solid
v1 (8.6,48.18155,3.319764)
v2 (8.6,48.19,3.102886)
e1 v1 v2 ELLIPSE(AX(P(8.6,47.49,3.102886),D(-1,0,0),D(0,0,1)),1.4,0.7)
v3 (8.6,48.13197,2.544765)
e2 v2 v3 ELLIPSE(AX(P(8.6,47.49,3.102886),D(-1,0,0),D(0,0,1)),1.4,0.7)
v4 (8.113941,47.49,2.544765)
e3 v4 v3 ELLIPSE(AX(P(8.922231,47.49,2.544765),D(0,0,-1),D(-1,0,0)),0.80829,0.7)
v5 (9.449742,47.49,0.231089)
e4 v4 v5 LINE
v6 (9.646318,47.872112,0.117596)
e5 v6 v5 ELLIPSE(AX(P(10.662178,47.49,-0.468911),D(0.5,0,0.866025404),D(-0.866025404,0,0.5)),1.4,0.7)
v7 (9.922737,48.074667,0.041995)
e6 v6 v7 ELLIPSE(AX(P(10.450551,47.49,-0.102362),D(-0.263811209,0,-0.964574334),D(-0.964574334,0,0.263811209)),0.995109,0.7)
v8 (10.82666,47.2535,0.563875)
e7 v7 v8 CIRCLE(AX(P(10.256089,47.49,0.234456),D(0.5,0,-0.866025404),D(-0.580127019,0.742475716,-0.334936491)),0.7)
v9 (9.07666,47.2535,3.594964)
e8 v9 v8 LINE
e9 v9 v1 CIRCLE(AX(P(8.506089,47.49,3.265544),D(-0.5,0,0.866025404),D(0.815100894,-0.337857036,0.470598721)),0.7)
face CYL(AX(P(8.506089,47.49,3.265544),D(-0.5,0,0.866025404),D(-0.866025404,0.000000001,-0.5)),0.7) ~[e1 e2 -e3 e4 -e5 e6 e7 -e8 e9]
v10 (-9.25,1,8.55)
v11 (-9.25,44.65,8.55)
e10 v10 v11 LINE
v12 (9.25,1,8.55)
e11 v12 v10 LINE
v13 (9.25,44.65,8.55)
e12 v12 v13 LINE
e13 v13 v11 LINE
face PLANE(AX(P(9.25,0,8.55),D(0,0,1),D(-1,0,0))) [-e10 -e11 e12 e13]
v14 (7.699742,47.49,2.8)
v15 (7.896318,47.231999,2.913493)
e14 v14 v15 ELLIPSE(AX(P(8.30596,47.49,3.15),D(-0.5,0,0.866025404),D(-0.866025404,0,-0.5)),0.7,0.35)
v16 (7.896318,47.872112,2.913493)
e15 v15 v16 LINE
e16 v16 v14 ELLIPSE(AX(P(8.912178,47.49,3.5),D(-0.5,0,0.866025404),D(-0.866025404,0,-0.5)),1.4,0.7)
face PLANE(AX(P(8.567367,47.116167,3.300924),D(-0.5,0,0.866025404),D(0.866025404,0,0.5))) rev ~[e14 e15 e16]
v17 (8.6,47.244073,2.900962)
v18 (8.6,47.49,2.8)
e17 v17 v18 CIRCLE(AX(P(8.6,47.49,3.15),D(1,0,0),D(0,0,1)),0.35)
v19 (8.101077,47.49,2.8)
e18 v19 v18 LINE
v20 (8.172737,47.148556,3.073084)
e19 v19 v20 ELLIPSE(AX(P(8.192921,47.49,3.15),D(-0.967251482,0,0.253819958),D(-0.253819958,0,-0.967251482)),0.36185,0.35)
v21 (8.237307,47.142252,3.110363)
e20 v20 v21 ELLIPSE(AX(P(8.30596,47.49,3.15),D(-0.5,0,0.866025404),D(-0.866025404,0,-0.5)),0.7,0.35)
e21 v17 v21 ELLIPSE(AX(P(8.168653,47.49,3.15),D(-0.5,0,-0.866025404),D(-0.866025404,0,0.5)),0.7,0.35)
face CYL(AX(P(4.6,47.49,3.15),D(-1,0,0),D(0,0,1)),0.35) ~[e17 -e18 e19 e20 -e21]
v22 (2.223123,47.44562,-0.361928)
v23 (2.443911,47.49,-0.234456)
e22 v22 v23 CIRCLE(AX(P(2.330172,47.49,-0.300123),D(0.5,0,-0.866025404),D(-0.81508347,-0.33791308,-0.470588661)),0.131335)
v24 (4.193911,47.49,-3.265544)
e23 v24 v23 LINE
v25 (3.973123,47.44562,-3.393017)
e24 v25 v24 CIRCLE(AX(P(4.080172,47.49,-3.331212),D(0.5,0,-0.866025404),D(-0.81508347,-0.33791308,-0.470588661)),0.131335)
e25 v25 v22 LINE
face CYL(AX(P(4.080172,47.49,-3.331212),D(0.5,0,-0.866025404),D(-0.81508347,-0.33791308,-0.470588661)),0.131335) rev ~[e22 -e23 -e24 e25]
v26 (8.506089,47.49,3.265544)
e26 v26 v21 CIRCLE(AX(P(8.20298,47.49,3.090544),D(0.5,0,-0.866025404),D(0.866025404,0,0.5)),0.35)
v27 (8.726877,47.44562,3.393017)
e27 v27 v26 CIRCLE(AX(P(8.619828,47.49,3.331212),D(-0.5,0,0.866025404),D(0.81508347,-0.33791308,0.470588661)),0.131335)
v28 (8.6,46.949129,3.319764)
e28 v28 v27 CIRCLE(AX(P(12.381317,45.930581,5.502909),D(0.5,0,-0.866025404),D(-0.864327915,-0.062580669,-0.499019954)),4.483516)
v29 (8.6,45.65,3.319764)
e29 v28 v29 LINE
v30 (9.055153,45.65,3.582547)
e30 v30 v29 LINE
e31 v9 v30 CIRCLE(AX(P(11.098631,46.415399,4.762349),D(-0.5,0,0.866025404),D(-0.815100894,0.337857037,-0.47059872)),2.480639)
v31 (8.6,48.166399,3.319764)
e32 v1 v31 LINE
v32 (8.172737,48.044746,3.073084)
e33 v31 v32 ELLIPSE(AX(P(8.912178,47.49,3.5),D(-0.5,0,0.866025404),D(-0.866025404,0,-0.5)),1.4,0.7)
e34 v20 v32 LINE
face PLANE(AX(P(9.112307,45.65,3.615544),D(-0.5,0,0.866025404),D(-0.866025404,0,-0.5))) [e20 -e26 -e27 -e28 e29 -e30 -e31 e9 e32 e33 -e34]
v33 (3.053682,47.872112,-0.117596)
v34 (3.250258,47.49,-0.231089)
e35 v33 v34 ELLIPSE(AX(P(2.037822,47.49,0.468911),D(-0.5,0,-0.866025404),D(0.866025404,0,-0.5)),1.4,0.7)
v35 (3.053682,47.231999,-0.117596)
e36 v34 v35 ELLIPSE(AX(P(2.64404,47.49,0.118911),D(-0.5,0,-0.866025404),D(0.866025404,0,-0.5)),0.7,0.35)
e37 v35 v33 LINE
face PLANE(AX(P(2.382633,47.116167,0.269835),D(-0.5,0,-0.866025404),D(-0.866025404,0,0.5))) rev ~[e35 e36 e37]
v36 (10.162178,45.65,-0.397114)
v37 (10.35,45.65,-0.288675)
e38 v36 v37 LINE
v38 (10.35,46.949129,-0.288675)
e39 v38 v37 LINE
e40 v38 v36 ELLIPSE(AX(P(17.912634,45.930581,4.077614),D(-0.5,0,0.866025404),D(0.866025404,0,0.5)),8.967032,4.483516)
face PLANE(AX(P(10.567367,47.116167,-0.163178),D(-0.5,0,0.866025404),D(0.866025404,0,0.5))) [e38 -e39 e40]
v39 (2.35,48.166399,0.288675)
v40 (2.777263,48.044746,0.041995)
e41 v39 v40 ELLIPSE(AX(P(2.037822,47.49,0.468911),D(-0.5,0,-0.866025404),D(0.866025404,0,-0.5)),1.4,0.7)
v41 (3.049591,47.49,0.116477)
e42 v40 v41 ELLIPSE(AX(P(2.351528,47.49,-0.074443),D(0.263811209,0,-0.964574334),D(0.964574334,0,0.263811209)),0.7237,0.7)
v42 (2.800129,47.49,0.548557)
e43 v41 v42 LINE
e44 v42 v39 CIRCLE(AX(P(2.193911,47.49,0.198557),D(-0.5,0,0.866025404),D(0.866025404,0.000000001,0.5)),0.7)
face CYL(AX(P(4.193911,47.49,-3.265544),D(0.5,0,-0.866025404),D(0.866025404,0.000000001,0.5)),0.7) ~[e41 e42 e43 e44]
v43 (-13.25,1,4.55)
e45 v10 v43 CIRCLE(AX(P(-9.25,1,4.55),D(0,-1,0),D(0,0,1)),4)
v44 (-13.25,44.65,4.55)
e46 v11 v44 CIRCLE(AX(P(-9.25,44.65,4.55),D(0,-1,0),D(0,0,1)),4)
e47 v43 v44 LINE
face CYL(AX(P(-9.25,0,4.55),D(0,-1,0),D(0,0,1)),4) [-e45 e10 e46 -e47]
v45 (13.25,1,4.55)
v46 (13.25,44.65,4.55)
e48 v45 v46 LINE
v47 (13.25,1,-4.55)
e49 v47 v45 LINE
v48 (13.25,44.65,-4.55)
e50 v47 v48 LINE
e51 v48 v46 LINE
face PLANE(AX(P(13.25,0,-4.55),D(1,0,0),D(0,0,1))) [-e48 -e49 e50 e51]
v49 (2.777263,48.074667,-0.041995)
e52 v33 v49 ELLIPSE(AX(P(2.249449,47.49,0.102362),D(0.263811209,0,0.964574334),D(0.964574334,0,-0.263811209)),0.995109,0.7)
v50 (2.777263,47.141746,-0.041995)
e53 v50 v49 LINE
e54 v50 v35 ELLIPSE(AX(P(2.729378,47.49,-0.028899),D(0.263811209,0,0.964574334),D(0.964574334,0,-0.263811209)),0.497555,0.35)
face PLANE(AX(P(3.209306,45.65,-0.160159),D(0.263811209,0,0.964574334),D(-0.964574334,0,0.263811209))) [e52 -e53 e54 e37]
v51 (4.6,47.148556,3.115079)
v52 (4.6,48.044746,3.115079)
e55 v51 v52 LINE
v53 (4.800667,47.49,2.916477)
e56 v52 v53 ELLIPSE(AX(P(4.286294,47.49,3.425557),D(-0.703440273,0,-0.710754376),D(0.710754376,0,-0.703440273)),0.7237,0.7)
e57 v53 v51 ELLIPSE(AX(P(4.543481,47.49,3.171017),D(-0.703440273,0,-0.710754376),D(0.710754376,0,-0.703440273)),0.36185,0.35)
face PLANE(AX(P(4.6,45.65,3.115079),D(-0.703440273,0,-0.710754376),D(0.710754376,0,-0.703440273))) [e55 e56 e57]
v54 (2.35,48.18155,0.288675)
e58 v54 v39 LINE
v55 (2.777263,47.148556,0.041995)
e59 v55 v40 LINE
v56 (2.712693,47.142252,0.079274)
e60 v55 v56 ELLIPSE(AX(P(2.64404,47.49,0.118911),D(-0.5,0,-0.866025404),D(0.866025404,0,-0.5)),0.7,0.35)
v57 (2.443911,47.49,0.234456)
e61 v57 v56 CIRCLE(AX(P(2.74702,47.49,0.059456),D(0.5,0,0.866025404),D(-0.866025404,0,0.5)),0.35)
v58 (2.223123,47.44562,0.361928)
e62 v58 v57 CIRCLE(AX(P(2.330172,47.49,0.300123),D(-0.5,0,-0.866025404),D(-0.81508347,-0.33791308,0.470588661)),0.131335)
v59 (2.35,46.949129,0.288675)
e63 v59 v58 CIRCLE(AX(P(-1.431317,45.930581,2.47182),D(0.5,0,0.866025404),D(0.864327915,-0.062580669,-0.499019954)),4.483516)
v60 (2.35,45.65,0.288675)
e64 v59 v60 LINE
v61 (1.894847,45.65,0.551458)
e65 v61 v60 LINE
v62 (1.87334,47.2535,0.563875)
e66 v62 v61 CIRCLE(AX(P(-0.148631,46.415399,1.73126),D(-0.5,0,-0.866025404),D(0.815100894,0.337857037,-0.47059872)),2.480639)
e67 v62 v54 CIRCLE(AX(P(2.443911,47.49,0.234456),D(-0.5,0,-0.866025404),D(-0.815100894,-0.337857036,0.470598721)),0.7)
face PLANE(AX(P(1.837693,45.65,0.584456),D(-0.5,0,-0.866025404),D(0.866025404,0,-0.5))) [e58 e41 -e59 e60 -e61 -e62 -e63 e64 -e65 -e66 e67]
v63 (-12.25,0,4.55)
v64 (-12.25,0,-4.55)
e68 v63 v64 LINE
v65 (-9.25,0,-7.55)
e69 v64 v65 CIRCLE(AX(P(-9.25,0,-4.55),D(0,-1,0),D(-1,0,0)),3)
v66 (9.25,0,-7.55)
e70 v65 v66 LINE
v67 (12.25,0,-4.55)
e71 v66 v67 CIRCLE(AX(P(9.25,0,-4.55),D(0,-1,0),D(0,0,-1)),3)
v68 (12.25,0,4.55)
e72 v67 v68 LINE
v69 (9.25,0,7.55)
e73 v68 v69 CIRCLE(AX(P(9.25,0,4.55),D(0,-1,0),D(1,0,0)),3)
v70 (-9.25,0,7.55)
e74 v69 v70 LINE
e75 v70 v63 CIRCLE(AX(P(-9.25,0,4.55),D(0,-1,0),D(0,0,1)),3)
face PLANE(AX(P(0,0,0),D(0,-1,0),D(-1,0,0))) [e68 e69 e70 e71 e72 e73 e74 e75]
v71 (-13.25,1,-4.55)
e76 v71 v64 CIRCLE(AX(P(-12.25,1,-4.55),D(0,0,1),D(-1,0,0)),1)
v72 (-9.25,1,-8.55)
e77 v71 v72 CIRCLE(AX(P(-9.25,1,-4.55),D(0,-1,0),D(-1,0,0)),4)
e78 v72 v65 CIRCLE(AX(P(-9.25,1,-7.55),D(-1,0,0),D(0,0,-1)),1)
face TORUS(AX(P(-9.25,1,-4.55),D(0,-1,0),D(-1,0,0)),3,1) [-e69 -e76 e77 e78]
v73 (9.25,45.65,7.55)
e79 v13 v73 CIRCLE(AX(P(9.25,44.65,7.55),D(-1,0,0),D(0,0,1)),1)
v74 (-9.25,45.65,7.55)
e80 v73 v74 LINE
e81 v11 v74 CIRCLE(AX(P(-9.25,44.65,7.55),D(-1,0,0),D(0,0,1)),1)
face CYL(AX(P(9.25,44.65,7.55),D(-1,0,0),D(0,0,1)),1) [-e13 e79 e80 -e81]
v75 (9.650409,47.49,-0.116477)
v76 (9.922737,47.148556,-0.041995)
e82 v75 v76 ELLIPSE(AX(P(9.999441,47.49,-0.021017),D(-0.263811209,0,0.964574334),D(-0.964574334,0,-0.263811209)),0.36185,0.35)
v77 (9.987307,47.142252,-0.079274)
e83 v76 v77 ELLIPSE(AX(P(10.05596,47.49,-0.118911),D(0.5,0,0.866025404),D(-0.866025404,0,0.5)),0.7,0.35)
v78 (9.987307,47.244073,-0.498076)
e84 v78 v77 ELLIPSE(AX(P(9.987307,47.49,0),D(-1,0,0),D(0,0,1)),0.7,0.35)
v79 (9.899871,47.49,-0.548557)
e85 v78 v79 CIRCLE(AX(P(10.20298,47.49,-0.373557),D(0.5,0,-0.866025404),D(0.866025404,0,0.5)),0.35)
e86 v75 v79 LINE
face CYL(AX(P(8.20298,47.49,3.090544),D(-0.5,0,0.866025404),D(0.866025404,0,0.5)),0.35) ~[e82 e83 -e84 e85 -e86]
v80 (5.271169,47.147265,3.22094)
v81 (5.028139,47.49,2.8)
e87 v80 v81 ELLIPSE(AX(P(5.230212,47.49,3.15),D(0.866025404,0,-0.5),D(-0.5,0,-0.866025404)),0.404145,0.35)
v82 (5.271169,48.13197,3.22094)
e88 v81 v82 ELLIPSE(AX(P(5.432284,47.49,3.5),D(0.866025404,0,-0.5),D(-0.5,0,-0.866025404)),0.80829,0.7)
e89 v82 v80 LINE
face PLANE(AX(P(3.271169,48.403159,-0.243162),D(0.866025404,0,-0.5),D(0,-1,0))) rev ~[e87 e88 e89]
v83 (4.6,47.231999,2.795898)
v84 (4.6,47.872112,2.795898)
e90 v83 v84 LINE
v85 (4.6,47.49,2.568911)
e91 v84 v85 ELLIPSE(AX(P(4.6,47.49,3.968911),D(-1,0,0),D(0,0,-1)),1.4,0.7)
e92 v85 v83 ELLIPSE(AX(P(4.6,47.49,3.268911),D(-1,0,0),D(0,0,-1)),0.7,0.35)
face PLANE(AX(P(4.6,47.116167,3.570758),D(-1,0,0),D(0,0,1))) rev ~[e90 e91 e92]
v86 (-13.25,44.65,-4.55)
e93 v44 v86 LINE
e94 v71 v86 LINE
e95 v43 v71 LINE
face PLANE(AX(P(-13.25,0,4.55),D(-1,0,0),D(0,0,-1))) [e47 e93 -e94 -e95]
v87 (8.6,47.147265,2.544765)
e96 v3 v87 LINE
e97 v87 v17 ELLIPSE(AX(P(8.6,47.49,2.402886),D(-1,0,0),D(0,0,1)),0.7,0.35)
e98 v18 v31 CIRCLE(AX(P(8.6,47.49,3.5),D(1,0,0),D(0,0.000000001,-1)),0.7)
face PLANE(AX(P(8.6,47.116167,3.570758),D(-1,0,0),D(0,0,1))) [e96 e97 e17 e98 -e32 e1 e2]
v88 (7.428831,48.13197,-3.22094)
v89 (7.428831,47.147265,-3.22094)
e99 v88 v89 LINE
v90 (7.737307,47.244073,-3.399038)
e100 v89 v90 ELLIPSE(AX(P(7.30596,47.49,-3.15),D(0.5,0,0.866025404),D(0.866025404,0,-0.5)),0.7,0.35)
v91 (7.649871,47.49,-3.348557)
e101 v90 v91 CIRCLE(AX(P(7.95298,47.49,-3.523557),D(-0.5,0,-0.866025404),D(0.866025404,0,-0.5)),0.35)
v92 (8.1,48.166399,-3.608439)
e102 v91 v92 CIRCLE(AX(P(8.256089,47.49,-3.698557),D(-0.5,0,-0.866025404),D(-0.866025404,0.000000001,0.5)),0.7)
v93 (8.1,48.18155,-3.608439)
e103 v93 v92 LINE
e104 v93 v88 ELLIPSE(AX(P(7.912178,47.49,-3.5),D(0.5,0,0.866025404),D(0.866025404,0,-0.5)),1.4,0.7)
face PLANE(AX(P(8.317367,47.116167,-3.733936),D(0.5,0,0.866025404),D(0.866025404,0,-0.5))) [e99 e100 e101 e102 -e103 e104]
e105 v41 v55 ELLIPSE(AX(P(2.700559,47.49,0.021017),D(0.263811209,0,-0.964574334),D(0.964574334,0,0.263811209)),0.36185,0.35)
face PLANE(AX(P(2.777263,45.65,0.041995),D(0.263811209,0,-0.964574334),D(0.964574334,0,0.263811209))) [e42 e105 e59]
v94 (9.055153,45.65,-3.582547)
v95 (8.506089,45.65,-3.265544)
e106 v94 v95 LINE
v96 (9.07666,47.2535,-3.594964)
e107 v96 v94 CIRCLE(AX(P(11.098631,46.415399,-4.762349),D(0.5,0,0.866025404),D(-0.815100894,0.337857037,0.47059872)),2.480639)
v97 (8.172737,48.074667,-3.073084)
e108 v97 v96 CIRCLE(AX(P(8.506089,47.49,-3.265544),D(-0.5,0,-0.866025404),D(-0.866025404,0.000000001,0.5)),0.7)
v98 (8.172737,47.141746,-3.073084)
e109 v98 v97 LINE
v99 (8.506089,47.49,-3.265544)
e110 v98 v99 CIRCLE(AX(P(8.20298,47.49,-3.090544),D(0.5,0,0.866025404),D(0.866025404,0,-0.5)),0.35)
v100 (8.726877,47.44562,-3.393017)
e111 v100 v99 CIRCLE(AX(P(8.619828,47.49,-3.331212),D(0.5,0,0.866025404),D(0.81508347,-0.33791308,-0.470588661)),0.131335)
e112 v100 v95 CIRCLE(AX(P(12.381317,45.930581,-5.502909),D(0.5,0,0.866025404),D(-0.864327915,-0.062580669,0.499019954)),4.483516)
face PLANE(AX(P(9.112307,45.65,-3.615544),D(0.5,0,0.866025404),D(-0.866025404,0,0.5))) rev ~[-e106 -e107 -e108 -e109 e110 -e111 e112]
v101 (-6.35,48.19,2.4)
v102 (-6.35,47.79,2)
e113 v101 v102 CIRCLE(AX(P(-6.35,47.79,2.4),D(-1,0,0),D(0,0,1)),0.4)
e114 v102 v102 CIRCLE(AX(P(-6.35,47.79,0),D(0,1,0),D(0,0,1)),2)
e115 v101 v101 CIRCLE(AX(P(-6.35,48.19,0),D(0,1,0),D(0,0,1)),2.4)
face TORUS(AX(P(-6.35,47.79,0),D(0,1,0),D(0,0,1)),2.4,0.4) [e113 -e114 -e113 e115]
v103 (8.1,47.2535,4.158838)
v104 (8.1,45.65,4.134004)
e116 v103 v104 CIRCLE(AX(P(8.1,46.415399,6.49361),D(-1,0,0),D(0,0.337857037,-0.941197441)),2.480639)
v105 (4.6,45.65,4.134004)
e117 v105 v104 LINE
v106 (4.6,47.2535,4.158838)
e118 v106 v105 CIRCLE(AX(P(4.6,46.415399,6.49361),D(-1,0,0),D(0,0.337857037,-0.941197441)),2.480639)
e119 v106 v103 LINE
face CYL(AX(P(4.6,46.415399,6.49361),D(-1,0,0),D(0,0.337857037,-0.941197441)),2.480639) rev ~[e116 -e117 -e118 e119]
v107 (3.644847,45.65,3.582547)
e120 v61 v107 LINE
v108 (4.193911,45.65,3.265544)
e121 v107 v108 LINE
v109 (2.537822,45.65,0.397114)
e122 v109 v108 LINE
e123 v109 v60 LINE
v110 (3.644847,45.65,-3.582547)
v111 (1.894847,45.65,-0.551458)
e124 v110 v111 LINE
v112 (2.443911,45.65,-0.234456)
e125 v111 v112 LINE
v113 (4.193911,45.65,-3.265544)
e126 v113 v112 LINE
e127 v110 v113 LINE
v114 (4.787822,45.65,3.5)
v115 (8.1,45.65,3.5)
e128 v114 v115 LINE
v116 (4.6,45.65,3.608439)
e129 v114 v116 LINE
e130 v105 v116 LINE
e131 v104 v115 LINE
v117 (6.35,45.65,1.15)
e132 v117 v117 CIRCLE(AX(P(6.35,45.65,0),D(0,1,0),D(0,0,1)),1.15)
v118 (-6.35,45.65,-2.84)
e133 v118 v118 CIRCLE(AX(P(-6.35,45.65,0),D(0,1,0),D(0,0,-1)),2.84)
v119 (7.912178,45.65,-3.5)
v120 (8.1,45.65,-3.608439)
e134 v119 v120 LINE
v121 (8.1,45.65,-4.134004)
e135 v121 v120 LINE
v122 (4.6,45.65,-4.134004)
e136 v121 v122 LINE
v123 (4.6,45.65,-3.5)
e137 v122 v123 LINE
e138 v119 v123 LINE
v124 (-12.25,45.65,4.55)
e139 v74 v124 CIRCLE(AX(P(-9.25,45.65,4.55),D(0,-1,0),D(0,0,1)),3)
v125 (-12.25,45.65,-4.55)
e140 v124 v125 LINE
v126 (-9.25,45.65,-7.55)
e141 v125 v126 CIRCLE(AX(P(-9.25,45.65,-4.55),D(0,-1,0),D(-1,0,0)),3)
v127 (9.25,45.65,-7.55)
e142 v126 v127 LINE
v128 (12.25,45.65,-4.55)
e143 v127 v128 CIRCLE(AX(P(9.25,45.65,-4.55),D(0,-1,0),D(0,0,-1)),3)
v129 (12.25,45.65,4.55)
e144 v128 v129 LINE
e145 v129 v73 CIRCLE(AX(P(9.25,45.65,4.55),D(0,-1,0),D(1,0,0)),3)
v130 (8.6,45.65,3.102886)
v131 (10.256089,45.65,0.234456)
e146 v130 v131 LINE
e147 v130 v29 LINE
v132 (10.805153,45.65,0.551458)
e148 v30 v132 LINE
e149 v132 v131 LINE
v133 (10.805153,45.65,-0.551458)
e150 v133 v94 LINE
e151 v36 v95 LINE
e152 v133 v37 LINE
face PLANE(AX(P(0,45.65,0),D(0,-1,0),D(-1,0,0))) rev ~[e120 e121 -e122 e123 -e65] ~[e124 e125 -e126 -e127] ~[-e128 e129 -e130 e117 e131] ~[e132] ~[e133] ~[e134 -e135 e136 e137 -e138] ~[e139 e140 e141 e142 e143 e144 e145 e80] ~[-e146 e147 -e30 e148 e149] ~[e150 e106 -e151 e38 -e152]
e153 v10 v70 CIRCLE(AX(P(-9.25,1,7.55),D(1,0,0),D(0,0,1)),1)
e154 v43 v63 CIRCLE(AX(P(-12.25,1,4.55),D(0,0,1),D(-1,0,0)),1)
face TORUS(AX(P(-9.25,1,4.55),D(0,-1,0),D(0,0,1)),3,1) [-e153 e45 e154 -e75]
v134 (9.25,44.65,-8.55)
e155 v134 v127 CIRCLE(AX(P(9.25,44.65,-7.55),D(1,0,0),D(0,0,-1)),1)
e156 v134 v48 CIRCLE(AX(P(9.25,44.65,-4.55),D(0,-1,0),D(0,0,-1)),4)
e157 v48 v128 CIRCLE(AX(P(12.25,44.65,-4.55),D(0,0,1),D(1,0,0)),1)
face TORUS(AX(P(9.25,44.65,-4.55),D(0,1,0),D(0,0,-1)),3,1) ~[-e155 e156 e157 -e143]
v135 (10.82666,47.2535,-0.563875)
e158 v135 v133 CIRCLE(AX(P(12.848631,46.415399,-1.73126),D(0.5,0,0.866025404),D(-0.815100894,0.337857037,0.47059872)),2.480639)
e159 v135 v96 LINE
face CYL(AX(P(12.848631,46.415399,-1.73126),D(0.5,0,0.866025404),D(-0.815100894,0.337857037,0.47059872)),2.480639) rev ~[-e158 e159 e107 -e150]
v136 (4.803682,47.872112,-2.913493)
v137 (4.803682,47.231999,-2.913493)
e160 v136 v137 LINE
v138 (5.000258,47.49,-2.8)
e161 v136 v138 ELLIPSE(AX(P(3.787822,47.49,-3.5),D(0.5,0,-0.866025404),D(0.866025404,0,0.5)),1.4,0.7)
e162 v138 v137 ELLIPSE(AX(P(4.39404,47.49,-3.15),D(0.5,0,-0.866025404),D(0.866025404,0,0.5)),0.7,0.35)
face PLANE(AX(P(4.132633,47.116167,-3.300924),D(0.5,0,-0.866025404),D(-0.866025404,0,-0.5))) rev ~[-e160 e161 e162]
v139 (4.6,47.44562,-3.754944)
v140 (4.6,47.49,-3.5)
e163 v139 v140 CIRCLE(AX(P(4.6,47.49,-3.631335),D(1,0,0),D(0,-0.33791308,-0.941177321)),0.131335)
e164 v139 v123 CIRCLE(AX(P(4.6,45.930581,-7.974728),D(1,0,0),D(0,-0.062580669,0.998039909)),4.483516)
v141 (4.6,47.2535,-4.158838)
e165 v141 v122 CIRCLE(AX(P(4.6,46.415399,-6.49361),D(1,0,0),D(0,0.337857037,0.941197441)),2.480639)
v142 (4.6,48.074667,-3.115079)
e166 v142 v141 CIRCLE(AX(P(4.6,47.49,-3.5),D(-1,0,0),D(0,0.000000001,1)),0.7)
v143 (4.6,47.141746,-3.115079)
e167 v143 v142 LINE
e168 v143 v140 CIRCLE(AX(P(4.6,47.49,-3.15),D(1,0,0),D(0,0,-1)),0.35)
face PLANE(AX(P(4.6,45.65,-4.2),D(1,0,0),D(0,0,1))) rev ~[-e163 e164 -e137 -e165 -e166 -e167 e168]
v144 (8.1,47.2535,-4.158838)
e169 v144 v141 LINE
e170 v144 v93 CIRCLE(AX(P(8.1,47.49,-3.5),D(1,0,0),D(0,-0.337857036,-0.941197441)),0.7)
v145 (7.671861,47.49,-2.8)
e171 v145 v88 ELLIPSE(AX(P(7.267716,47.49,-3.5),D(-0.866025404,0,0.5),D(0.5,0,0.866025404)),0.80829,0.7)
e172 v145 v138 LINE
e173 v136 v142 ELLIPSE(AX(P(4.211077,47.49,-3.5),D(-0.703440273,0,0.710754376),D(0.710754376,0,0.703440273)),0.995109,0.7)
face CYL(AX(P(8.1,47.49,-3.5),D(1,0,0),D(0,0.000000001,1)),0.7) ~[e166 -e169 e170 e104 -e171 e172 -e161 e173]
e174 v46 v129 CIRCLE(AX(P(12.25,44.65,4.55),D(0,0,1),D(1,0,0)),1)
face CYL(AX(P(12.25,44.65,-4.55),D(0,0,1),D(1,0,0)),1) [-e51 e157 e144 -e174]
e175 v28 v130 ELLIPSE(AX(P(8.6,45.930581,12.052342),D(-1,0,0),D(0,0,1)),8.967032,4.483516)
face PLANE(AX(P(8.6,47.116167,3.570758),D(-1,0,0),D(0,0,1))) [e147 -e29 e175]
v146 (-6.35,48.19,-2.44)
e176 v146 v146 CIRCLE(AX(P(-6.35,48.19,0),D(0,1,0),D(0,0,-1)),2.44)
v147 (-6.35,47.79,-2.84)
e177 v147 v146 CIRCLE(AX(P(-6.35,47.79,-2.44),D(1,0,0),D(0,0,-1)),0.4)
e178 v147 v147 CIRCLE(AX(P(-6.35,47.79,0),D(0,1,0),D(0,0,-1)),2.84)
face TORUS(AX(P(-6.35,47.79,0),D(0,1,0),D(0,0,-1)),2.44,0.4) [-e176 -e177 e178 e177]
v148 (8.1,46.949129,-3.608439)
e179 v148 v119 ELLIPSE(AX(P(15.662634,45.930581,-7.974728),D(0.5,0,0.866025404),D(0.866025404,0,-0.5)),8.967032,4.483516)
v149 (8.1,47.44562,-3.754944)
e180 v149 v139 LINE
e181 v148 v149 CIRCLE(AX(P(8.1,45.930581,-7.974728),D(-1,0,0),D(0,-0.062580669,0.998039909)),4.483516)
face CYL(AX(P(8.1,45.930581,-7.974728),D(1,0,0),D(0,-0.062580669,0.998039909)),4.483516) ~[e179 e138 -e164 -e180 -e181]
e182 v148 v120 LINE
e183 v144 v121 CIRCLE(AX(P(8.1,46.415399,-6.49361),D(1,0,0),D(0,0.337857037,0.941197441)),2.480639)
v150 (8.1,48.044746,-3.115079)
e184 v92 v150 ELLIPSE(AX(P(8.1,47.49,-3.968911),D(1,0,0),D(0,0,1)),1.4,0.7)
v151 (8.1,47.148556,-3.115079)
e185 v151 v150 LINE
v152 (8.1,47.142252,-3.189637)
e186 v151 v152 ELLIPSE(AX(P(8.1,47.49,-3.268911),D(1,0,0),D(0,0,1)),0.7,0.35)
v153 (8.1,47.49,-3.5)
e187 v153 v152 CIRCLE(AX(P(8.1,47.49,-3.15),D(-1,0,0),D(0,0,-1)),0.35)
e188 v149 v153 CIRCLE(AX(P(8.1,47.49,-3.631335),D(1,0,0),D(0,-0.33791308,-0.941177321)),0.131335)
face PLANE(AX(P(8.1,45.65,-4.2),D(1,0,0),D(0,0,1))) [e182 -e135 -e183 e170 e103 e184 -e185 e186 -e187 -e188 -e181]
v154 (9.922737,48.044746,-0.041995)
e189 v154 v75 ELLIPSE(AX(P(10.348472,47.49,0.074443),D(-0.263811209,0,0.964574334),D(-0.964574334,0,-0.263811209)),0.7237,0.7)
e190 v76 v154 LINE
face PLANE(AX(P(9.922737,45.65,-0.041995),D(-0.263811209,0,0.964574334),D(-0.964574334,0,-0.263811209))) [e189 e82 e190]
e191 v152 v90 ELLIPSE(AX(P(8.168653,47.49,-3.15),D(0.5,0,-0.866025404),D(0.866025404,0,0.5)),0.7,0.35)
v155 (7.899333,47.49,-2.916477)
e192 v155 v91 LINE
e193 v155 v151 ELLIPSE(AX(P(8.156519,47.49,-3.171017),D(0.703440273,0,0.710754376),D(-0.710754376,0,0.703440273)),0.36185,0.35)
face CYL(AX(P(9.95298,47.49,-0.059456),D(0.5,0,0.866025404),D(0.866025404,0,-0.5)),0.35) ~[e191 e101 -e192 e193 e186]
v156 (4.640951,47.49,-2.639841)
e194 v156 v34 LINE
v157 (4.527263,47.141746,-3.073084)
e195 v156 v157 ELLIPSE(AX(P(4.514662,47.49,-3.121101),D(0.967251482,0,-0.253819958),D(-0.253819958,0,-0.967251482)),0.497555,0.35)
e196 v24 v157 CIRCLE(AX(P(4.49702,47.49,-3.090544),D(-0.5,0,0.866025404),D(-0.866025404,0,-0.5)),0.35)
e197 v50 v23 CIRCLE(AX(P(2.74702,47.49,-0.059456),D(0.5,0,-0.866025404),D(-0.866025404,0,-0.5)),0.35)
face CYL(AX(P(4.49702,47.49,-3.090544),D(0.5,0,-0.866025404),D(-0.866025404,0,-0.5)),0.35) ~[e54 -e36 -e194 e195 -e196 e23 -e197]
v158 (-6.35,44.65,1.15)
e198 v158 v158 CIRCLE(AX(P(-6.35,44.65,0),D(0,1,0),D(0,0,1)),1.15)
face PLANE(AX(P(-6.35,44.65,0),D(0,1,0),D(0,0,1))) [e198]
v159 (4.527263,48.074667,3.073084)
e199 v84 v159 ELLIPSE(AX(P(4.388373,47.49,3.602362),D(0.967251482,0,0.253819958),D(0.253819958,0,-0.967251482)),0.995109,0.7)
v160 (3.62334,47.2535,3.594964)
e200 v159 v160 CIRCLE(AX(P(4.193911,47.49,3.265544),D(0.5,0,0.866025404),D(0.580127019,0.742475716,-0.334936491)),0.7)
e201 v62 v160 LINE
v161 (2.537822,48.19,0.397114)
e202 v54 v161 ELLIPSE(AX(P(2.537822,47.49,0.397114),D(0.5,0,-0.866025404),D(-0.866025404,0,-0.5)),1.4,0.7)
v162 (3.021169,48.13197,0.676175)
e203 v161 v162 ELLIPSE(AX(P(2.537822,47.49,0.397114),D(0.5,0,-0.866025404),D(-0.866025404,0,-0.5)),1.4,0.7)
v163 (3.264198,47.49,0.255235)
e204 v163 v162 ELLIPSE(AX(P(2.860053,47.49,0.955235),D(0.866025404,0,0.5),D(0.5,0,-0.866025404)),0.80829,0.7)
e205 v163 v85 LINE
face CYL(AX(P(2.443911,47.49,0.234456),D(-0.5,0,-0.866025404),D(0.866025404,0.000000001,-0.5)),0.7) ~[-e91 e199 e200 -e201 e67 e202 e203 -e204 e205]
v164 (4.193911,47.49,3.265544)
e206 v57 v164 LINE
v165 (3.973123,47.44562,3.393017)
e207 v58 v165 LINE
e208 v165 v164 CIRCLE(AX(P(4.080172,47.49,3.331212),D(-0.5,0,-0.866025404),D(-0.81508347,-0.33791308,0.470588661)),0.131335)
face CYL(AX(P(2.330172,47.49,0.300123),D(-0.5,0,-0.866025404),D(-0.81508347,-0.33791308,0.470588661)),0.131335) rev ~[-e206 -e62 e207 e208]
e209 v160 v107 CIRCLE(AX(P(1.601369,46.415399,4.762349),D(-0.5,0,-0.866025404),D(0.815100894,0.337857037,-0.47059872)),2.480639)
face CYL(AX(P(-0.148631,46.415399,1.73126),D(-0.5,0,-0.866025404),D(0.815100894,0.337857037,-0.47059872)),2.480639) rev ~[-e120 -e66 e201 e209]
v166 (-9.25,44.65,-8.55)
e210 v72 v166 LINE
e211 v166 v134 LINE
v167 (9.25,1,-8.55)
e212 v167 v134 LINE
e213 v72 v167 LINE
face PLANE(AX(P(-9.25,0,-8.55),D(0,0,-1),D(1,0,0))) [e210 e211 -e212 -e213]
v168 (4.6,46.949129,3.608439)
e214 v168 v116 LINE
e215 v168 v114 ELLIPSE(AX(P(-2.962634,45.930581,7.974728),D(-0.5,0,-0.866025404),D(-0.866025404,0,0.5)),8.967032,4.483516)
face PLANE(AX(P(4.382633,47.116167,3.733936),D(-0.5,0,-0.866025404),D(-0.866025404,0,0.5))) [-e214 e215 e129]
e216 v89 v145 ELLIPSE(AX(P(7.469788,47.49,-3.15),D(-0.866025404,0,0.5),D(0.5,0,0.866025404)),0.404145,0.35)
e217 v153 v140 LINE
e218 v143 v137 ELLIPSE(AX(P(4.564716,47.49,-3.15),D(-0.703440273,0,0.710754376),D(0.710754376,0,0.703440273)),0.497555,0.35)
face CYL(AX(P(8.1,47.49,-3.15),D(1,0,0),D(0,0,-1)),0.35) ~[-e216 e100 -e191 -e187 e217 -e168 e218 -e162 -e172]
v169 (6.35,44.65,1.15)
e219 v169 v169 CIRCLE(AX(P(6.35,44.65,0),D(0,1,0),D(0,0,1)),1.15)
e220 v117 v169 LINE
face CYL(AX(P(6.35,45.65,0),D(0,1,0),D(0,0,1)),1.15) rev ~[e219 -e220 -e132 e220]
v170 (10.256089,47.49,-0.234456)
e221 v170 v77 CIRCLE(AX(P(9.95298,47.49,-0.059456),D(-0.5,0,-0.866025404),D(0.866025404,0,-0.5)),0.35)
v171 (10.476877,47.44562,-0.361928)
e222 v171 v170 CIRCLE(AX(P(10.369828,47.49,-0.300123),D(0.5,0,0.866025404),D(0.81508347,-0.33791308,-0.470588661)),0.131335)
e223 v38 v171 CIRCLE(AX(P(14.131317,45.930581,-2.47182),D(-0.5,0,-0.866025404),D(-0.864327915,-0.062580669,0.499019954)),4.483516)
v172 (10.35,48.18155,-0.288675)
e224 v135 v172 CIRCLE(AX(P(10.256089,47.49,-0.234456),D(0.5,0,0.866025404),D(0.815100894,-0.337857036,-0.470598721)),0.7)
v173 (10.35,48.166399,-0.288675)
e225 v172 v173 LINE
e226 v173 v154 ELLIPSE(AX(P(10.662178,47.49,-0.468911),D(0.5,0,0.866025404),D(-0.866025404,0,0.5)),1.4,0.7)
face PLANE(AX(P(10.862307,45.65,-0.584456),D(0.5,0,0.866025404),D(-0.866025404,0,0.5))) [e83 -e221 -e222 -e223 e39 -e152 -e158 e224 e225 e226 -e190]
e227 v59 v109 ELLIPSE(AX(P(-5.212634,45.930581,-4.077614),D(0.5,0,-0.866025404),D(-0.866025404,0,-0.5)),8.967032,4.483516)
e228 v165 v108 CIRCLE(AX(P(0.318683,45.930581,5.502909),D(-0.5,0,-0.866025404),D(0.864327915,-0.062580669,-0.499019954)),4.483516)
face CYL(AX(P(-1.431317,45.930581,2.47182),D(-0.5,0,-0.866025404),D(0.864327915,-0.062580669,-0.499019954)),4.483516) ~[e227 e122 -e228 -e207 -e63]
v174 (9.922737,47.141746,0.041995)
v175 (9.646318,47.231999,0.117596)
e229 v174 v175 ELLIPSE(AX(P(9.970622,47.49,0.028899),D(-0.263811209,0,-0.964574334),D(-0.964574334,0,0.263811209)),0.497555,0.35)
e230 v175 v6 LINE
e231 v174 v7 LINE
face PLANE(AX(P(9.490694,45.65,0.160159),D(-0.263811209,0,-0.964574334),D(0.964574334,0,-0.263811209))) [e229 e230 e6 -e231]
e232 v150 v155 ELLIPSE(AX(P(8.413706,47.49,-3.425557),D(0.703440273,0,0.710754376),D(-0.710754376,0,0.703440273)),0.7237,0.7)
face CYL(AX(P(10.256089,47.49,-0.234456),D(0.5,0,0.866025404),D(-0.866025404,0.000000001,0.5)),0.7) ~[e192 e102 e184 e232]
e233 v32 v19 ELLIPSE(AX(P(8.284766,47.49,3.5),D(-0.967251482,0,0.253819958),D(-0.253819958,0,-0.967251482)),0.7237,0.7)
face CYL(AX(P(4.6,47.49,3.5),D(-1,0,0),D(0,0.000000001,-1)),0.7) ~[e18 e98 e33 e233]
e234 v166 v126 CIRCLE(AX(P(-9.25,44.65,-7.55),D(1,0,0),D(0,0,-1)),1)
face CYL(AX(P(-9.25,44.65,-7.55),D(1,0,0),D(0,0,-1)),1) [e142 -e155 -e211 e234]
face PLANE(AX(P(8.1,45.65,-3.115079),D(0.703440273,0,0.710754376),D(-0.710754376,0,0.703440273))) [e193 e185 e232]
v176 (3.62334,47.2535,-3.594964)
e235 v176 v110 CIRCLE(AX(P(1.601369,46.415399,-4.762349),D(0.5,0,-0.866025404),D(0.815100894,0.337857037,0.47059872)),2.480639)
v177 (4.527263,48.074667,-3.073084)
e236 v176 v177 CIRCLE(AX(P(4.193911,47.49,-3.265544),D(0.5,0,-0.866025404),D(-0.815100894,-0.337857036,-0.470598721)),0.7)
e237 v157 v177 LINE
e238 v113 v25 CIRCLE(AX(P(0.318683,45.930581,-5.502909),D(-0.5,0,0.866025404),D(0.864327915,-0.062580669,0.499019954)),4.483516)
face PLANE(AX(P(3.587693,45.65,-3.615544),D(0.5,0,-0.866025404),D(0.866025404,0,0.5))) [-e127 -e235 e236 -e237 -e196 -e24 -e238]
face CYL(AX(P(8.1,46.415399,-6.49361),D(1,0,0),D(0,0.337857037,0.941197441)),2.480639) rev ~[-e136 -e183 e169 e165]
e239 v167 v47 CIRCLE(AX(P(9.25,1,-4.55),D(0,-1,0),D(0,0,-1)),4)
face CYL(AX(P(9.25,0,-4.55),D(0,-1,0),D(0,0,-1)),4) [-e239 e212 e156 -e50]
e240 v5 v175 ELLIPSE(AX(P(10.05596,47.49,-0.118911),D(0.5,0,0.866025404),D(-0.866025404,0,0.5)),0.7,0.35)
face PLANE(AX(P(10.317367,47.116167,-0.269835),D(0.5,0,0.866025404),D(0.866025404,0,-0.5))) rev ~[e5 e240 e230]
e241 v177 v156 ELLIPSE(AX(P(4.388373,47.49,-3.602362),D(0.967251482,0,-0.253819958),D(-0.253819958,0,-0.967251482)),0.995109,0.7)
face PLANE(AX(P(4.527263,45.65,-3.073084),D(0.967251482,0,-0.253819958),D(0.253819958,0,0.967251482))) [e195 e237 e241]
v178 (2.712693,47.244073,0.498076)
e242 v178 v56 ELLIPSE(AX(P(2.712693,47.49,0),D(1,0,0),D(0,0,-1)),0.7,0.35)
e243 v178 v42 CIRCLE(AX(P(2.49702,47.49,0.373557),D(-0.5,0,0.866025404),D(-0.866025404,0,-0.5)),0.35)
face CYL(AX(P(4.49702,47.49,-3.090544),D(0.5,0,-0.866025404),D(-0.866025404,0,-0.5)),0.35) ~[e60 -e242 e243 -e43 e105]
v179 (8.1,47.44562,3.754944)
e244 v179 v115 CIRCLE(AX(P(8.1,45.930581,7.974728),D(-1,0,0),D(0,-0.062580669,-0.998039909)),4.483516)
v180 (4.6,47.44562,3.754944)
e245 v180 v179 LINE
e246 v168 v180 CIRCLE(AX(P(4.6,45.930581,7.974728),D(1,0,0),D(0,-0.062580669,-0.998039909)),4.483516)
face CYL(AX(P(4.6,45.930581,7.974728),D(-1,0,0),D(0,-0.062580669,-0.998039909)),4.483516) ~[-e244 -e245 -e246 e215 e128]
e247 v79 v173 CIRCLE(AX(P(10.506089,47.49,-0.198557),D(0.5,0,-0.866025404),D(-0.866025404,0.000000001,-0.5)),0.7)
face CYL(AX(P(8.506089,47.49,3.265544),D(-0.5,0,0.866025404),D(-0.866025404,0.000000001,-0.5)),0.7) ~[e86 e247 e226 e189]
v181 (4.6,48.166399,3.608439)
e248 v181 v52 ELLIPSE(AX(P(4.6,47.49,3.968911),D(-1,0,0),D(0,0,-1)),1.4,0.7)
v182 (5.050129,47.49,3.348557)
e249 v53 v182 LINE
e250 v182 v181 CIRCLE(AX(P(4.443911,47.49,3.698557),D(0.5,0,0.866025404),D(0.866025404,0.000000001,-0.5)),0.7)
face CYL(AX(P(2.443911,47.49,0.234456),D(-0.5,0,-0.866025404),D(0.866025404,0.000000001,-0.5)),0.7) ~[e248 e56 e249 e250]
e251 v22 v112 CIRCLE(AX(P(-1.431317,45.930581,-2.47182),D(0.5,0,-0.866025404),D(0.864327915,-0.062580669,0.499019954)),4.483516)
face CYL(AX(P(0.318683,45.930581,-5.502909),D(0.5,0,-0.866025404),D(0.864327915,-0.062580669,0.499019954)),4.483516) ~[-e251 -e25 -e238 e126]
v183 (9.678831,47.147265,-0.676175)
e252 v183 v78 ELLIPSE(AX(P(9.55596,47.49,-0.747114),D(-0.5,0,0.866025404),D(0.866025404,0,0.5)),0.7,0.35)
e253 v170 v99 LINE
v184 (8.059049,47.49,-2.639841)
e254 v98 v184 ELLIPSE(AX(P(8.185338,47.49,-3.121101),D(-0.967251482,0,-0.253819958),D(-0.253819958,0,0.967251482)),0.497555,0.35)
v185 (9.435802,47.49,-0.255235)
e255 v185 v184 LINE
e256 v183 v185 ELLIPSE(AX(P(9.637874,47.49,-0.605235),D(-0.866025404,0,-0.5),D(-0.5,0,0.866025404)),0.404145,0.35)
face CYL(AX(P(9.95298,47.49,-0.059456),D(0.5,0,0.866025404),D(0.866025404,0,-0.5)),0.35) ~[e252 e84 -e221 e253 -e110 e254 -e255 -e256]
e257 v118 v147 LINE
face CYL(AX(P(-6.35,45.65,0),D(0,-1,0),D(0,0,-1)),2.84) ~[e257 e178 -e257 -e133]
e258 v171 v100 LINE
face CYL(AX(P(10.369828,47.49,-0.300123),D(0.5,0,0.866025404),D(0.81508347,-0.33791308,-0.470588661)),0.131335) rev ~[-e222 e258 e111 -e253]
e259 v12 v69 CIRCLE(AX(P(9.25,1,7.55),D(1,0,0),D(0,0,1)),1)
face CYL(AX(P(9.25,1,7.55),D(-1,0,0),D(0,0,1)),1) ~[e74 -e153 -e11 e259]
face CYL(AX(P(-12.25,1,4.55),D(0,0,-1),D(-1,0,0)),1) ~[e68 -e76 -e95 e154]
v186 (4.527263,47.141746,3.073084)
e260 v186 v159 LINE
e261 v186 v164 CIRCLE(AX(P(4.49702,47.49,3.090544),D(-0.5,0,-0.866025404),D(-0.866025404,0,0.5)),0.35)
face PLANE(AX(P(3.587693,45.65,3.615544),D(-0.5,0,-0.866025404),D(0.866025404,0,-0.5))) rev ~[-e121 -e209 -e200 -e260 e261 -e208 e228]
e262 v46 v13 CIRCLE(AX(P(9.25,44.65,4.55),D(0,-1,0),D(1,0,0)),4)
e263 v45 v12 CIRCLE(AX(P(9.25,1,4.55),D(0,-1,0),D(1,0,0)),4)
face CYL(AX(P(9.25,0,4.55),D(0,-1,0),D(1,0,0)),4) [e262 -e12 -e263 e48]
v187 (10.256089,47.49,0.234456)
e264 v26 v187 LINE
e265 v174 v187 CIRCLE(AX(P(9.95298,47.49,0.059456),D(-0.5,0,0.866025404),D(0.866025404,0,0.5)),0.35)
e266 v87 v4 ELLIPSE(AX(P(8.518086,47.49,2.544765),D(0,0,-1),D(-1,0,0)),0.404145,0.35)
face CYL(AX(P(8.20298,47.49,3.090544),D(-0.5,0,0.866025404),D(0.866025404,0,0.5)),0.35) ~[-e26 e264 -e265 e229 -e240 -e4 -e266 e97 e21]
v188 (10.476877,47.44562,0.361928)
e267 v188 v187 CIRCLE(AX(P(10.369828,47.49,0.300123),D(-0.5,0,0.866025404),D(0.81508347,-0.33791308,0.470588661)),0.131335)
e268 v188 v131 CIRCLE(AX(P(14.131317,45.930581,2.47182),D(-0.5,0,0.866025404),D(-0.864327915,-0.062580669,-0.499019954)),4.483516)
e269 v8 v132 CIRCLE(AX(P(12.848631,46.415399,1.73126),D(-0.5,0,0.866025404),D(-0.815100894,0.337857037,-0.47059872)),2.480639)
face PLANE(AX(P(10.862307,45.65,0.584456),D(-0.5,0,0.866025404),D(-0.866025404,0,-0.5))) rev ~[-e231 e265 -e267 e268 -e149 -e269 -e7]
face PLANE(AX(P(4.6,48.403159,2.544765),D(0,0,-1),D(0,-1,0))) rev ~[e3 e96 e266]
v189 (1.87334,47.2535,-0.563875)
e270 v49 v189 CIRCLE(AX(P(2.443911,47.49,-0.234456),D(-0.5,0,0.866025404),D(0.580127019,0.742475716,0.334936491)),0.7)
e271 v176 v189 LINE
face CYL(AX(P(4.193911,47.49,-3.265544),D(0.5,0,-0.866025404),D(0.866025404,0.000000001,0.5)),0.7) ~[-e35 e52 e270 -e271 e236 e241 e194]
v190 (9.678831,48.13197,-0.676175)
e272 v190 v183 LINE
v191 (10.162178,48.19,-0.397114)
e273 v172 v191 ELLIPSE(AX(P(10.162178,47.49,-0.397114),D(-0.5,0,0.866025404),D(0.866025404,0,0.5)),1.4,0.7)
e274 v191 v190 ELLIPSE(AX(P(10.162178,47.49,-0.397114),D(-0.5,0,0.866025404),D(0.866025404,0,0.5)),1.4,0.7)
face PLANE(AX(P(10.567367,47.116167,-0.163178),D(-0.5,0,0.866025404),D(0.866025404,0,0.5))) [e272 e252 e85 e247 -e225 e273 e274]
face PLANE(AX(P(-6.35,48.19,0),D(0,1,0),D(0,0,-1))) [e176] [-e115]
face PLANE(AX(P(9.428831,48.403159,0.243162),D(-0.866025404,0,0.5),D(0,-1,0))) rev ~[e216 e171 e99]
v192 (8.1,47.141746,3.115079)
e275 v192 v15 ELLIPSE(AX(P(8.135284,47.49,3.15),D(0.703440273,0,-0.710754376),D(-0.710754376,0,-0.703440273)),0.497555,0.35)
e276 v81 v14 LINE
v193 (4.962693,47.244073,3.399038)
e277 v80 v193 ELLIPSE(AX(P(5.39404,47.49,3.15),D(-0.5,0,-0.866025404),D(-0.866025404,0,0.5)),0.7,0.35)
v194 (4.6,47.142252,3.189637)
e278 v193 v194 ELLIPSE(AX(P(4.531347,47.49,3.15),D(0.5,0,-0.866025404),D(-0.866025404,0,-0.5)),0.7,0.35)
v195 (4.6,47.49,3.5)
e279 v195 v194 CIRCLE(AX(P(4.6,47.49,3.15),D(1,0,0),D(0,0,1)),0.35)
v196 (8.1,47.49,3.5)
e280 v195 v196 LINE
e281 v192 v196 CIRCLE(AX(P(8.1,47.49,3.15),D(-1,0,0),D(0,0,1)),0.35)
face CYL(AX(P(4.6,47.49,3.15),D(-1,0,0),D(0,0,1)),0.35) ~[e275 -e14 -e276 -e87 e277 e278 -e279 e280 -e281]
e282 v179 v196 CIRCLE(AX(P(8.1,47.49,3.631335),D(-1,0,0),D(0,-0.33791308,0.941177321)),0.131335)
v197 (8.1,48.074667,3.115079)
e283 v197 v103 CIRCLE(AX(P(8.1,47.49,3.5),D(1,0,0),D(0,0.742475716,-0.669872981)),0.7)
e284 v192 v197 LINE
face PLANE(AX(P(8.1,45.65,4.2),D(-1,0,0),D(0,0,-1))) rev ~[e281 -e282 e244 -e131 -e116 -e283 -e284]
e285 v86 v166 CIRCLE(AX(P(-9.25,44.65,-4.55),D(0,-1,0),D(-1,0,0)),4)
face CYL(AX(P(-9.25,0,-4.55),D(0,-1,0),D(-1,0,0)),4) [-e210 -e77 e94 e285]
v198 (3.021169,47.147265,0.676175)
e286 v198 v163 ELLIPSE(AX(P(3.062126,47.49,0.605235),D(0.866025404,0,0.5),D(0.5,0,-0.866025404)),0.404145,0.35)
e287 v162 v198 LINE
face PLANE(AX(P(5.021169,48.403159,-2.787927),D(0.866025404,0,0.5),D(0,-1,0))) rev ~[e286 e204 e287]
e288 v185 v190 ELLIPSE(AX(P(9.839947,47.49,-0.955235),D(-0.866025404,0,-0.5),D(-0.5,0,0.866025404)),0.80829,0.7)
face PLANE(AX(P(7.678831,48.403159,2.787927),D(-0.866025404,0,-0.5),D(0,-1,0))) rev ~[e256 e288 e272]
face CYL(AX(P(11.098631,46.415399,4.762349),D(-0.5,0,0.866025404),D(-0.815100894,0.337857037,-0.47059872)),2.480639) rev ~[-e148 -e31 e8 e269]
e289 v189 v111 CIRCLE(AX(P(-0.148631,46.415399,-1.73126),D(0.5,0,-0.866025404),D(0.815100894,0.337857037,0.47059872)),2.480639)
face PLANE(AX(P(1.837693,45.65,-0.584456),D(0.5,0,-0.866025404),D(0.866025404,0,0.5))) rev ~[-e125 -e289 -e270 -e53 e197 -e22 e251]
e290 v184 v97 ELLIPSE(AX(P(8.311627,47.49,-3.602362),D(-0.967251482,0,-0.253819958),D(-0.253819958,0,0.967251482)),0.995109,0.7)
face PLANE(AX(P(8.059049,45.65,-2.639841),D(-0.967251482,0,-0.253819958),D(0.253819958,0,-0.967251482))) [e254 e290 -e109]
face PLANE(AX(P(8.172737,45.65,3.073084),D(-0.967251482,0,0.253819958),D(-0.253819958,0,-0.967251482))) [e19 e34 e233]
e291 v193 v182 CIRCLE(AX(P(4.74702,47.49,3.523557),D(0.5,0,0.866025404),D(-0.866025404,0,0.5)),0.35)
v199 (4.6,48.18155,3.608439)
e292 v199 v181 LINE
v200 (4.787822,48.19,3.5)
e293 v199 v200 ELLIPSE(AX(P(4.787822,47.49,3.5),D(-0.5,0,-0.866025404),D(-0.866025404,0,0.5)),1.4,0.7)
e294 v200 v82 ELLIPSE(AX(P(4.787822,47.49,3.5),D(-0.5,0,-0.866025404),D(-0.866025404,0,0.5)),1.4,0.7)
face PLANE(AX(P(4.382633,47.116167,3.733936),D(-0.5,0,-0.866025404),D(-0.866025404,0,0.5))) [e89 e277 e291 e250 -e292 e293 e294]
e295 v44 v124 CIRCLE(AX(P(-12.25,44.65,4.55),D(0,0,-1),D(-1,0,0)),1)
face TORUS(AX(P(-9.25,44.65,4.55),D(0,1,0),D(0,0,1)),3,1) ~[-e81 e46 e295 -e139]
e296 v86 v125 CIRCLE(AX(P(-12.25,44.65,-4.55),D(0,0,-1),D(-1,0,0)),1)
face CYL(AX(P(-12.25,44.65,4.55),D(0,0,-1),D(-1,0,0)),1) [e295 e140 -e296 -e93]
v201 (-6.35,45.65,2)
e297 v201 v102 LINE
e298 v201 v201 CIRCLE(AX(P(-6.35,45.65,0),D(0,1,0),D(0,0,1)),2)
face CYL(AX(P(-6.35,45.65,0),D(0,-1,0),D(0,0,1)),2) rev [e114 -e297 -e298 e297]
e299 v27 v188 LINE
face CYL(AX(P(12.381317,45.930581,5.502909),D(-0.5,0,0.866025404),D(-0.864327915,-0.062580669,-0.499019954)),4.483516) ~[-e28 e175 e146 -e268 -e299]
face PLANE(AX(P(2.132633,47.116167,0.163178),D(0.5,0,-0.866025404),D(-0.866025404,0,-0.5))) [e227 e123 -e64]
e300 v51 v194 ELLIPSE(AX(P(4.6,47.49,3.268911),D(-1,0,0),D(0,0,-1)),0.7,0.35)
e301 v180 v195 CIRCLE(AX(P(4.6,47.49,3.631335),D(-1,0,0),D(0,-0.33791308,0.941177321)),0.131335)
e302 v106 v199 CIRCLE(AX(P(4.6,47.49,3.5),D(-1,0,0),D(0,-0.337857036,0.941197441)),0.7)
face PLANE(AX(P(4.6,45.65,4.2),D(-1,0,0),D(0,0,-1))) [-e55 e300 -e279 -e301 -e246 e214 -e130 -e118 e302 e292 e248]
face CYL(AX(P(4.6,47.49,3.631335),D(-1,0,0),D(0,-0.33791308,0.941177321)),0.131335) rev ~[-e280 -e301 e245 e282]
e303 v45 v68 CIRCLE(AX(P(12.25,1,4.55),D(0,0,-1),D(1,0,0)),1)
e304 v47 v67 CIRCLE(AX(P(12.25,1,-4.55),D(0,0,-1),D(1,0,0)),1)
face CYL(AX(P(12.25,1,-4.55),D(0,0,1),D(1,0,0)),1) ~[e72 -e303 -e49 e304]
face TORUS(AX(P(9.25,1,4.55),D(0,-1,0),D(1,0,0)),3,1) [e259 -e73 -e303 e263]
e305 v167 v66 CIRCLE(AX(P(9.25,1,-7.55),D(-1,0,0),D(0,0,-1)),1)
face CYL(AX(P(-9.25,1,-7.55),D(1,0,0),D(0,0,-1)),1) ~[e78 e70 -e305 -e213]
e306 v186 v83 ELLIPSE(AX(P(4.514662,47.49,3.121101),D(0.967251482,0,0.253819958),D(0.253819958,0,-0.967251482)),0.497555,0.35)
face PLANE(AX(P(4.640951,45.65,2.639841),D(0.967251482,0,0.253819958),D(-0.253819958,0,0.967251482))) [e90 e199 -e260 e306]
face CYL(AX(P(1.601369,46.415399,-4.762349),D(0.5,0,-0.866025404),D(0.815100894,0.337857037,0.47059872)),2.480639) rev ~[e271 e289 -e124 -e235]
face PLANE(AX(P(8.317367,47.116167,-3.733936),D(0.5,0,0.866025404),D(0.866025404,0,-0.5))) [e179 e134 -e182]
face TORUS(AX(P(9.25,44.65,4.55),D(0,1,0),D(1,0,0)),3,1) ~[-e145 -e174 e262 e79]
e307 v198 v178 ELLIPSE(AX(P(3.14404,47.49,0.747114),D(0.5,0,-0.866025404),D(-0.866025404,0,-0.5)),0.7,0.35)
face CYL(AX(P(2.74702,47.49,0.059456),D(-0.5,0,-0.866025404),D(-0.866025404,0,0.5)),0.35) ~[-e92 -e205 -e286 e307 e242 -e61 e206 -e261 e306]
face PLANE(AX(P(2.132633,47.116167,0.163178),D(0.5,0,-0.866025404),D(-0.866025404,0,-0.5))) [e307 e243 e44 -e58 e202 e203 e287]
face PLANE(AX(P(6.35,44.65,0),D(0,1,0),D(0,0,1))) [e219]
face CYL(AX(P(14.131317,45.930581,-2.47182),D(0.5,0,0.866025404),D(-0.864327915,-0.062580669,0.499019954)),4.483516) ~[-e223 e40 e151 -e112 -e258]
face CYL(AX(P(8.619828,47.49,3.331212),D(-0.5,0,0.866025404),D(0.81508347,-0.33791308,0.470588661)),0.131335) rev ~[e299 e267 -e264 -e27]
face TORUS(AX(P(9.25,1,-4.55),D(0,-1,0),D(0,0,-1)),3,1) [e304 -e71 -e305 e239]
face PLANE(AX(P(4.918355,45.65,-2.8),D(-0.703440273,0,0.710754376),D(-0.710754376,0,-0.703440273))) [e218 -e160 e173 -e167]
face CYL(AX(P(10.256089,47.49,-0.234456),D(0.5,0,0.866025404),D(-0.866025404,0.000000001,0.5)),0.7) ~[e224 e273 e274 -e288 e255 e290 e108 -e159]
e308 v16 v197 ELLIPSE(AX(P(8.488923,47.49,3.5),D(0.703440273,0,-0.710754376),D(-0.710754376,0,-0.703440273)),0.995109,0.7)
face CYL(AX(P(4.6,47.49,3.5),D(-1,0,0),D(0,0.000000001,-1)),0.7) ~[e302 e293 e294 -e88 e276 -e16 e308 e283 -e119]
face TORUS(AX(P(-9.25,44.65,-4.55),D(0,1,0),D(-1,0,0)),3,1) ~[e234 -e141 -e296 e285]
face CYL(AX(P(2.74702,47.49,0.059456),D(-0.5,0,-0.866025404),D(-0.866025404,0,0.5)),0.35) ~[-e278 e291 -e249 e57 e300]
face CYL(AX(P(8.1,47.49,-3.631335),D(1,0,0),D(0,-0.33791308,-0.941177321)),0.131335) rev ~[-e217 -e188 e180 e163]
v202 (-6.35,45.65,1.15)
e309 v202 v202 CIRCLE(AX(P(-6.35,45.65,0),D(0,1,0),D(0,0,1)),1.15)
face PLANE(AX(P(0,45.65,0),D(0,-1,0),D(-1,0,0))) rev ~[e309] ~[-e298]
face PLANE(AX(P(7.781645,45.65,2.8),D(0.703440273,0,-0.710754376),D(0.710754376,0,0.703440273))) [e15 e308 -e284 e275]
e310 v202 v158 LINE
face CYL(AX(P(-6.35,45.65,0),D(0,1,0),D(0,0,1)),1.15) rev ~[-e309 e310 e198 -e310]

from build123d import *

# Parameters (mm, degrees)
EXTRUDE1_DEPTH     = 45.65
FILLET1_R          = 1
SKETCH2_R          = 1.15
CUT_EXTRUDE1_DEPTH = 1
SKETCH3_R          = 2.84
SKETCH3_R_2        = 2
EXTRUDE2_DEPTH     = 2.54
FILLET2_R          = 0.4
SKETCH4_W          = 3.5
SKETCH4_H          = 1.4
EXTRUDE3_DEPTH     = 2.54
CUT_EXTRUDE2_DEPTH = 4
CUT_EXTRUDE3_DEPTH = 4
CIRPATTERN2_COUNT  = 6


with BuildPart() as part:
    # Sketch1 → Extrude1 (new body)
    with BuildSketch(Plane(origin=(0, 0, 0), x_dir=(1, 0, 0), z_dir=(0, 1, 0))):
        with BuildLine():
            Line((-9.25, 8.55), (9.25, 8.55))
            ThreePointArc((9.25, 8.55), (12.078427125, 7.378427125), (13.25, 4.55))
            Line((13.25, 4.55), (13.25, -4.55))
            ThreePointArc((13.25, -4.55), (12.078427125, -7.378427125), (9.25, -8.55))
            Line((9.25, -8.55), (-9.25, -8.55))
            ThreePointArc((-9.25, -8.55), (-12.078427125, -7.378427125), (-13.25, -4.55))
            Line((-13.25, -4.55), (-13.25, 4.55))
            ThreePointArc((-13.25, 4.55), (-12.078427125, 7.378427125), (-9.25, 8.55))
        make_face()
    extrude(amount=EXTRUDE1_DEPTH)

    # Fillet1
    fillet1_edges = [part.edges().sort_by_distance(p)[0] for p in [
        (-12.078427125, 45.65, -7.378427125),
        (-13.25, 45.65, 0),
        (-12.078427125, 45.65, 7.378427125),
        (0, 45.65, 8.55),
        (12.078427125, 45.65, 7.378427125),
        (13.25, 45.65, 0),
        (12.078427125, 45.65, -7.378427125),
        (13.25, 0, 0),
        (0, 45.65, -8.55),
        (12.078427125, 0, 7.378427125),
        (0, 0, 8.55),
        (-12.078427125, 0, 7.378427125),
        (-13.25, 0, 0),
        (-12.078427125, 0, -7.378427125),
        (0, 0, -8.55),
        (12.078427125, 0, -7.378427125),
    ]]
    fillet(fillet1_edges, radius=FILLET1_R)

    # Sketch2 → Cut-Extrude1 (cut)
    with BuildSketch(Plane(origin=(0, 45.65, 0), x_dir=(-1, 0, 0), z_dir=(0, 1, 0))):
        with Locations(Location((6.35, 0, 0), (0, 0, 90))):  # turned: the seam where the file's is
            Circle(SKETCH2_R)
        with Locations(Location((-6.35, 0, 0), (0, 0, 90))):  # turned: the seam where the file's is
            Circle(SKETCH2_R)
    extrude(amount=-CUT_EXTRUDE1_DEPTH, mode=Mode.SUBTRACT)

    # Sketch3 → Extrude2 (add)
    with BuildSketch(Plane(origin=(0, 45.65, 0), x_dir=(-1, 0, 0), z_dir=(0, 1, 0))):
        with Locations(Location((6.35, 0, 0), (0, 0, 270))):  # turned: the seam where the file's is
            Circle(SKETCH3_R)
        with Locations(Location((6.35, 0, 0), (0, 0, 90))):  # turned: the seam where the file's is
            Circle(SKETCH3_R_2, mode=Mode.SUBTRACT)
    extrude(amount=EXTRUDE2_DEPTH)

    # Fillet2
    fillet2_edges = [part.edges().sort_by_distance(p)[0] for p in [
        (-6.35, 48.19, 2.84),
        (-6.35, 48.19, -2),
    ]]
    fillet(fillet2_edges, radius=FILLET2_R)

    # Sketch4 → Extrude3 (add)
    with BuildSketch(Plane(origin=(0, 45.65, 0), x_dir=(-1, 0, 0), z_dir=(0, 1, 0))):
        with Locations((-6.35, -3.5)):
            Rectangle(SKETCH4_W, SKETCH4_H)
    extrude3 = extrude(amount=EXTRUDE3_DEPTH)

    # Sketch5 → Cut-Extrude2 (cut)
    with BuildSketch(Plane(origin=(8.1, 0, 0), x_dir=(0, 0, -1), z_dir=(1, 0, 0))):
        with BuildLine():
            Line((4.13400445, 45.65), (4.55, 45.65))
            Line((4.55, 45.65), (4.55, 48.403159162))
            Line((4.55, 48.403159162), (2.544765199, 48.403159162))
            Line((2.544765199, 48.403159162), (2.544765199, 45.65))
            Line((2.544765199, 45.65), (3.5, 45.65))
            ThreePointArc((3.5, 45.65), (3.535730788, 46.560835661), (3.754944335, 47.445620218))
            ThreePointArc((3.754944335, 47.445620218), (3.65385849, 47.619389121), (3.5, 47.49))
            ThreePointArc((3.5, 47.49), (3.15, 47.14), (2.8, 47.49))
            ThreePointArc((2.8, 47.49), (3.620027609, 48.179632781), (4.158838209, 47.253500074))
            ThreePointArc((4.158838209, 47.253500074), (4.013267709, 46.453812217), (4.13400445, 45.65))
        make_face()
    cut_extrude2 = extrude(amount=-CUT_EXTRUDE2_DEPTH, mode=Mode.SUBTRACT)

    # Sketch6 → Cut-Extrude3 (cut)
    with BuildSketch(Plane(origin=(0, 45.65, 0), x_dir=(-1, 0, 0), z_dir=(0, 1, 0))):
        Polygon((-7.781645023, -2.8), (-8.1, -2.8), (-8.1, -3.115078907), align=None)
        Polygon((-4.6, -2.8), (-4.918354977, -2.8), (-4.6, -3.115078907), align=None)
    cut_extrude3 = extrude(amount=CUT_EXTRUDE3_DEPTH, mode=Mode.SUBTRACT)

    # CirPattern2: Extrude3, Cut-Extrude2, Cut-Extrude3 ×6 about axis
    cirpattern2_axis = Axis((6.35, 0, 0), (0, 1, 0))
    add([extrude3.rotate(cirpattern2_axis, i * 360 / CIRPATTERN2_COUNT) for i in range(1, CIRPATTERN2_COUNT)])
    add([cut_extrude2.rotate(cirpattern2_axis, i * 360 / CIRPATTERN2_COUNT) for i in range(1, CIRPATTERN2_COUNT)], mode=Mode.SUBTRACT)
    add([cut_extrude3.rotate(cirpattern2_axis, i * 360 / CIRPATTERN2_COUNT) for i in range(1, CIRPATTERN2_COUNT)], mode=Mode.SUBTRACT)


solid = part.part
